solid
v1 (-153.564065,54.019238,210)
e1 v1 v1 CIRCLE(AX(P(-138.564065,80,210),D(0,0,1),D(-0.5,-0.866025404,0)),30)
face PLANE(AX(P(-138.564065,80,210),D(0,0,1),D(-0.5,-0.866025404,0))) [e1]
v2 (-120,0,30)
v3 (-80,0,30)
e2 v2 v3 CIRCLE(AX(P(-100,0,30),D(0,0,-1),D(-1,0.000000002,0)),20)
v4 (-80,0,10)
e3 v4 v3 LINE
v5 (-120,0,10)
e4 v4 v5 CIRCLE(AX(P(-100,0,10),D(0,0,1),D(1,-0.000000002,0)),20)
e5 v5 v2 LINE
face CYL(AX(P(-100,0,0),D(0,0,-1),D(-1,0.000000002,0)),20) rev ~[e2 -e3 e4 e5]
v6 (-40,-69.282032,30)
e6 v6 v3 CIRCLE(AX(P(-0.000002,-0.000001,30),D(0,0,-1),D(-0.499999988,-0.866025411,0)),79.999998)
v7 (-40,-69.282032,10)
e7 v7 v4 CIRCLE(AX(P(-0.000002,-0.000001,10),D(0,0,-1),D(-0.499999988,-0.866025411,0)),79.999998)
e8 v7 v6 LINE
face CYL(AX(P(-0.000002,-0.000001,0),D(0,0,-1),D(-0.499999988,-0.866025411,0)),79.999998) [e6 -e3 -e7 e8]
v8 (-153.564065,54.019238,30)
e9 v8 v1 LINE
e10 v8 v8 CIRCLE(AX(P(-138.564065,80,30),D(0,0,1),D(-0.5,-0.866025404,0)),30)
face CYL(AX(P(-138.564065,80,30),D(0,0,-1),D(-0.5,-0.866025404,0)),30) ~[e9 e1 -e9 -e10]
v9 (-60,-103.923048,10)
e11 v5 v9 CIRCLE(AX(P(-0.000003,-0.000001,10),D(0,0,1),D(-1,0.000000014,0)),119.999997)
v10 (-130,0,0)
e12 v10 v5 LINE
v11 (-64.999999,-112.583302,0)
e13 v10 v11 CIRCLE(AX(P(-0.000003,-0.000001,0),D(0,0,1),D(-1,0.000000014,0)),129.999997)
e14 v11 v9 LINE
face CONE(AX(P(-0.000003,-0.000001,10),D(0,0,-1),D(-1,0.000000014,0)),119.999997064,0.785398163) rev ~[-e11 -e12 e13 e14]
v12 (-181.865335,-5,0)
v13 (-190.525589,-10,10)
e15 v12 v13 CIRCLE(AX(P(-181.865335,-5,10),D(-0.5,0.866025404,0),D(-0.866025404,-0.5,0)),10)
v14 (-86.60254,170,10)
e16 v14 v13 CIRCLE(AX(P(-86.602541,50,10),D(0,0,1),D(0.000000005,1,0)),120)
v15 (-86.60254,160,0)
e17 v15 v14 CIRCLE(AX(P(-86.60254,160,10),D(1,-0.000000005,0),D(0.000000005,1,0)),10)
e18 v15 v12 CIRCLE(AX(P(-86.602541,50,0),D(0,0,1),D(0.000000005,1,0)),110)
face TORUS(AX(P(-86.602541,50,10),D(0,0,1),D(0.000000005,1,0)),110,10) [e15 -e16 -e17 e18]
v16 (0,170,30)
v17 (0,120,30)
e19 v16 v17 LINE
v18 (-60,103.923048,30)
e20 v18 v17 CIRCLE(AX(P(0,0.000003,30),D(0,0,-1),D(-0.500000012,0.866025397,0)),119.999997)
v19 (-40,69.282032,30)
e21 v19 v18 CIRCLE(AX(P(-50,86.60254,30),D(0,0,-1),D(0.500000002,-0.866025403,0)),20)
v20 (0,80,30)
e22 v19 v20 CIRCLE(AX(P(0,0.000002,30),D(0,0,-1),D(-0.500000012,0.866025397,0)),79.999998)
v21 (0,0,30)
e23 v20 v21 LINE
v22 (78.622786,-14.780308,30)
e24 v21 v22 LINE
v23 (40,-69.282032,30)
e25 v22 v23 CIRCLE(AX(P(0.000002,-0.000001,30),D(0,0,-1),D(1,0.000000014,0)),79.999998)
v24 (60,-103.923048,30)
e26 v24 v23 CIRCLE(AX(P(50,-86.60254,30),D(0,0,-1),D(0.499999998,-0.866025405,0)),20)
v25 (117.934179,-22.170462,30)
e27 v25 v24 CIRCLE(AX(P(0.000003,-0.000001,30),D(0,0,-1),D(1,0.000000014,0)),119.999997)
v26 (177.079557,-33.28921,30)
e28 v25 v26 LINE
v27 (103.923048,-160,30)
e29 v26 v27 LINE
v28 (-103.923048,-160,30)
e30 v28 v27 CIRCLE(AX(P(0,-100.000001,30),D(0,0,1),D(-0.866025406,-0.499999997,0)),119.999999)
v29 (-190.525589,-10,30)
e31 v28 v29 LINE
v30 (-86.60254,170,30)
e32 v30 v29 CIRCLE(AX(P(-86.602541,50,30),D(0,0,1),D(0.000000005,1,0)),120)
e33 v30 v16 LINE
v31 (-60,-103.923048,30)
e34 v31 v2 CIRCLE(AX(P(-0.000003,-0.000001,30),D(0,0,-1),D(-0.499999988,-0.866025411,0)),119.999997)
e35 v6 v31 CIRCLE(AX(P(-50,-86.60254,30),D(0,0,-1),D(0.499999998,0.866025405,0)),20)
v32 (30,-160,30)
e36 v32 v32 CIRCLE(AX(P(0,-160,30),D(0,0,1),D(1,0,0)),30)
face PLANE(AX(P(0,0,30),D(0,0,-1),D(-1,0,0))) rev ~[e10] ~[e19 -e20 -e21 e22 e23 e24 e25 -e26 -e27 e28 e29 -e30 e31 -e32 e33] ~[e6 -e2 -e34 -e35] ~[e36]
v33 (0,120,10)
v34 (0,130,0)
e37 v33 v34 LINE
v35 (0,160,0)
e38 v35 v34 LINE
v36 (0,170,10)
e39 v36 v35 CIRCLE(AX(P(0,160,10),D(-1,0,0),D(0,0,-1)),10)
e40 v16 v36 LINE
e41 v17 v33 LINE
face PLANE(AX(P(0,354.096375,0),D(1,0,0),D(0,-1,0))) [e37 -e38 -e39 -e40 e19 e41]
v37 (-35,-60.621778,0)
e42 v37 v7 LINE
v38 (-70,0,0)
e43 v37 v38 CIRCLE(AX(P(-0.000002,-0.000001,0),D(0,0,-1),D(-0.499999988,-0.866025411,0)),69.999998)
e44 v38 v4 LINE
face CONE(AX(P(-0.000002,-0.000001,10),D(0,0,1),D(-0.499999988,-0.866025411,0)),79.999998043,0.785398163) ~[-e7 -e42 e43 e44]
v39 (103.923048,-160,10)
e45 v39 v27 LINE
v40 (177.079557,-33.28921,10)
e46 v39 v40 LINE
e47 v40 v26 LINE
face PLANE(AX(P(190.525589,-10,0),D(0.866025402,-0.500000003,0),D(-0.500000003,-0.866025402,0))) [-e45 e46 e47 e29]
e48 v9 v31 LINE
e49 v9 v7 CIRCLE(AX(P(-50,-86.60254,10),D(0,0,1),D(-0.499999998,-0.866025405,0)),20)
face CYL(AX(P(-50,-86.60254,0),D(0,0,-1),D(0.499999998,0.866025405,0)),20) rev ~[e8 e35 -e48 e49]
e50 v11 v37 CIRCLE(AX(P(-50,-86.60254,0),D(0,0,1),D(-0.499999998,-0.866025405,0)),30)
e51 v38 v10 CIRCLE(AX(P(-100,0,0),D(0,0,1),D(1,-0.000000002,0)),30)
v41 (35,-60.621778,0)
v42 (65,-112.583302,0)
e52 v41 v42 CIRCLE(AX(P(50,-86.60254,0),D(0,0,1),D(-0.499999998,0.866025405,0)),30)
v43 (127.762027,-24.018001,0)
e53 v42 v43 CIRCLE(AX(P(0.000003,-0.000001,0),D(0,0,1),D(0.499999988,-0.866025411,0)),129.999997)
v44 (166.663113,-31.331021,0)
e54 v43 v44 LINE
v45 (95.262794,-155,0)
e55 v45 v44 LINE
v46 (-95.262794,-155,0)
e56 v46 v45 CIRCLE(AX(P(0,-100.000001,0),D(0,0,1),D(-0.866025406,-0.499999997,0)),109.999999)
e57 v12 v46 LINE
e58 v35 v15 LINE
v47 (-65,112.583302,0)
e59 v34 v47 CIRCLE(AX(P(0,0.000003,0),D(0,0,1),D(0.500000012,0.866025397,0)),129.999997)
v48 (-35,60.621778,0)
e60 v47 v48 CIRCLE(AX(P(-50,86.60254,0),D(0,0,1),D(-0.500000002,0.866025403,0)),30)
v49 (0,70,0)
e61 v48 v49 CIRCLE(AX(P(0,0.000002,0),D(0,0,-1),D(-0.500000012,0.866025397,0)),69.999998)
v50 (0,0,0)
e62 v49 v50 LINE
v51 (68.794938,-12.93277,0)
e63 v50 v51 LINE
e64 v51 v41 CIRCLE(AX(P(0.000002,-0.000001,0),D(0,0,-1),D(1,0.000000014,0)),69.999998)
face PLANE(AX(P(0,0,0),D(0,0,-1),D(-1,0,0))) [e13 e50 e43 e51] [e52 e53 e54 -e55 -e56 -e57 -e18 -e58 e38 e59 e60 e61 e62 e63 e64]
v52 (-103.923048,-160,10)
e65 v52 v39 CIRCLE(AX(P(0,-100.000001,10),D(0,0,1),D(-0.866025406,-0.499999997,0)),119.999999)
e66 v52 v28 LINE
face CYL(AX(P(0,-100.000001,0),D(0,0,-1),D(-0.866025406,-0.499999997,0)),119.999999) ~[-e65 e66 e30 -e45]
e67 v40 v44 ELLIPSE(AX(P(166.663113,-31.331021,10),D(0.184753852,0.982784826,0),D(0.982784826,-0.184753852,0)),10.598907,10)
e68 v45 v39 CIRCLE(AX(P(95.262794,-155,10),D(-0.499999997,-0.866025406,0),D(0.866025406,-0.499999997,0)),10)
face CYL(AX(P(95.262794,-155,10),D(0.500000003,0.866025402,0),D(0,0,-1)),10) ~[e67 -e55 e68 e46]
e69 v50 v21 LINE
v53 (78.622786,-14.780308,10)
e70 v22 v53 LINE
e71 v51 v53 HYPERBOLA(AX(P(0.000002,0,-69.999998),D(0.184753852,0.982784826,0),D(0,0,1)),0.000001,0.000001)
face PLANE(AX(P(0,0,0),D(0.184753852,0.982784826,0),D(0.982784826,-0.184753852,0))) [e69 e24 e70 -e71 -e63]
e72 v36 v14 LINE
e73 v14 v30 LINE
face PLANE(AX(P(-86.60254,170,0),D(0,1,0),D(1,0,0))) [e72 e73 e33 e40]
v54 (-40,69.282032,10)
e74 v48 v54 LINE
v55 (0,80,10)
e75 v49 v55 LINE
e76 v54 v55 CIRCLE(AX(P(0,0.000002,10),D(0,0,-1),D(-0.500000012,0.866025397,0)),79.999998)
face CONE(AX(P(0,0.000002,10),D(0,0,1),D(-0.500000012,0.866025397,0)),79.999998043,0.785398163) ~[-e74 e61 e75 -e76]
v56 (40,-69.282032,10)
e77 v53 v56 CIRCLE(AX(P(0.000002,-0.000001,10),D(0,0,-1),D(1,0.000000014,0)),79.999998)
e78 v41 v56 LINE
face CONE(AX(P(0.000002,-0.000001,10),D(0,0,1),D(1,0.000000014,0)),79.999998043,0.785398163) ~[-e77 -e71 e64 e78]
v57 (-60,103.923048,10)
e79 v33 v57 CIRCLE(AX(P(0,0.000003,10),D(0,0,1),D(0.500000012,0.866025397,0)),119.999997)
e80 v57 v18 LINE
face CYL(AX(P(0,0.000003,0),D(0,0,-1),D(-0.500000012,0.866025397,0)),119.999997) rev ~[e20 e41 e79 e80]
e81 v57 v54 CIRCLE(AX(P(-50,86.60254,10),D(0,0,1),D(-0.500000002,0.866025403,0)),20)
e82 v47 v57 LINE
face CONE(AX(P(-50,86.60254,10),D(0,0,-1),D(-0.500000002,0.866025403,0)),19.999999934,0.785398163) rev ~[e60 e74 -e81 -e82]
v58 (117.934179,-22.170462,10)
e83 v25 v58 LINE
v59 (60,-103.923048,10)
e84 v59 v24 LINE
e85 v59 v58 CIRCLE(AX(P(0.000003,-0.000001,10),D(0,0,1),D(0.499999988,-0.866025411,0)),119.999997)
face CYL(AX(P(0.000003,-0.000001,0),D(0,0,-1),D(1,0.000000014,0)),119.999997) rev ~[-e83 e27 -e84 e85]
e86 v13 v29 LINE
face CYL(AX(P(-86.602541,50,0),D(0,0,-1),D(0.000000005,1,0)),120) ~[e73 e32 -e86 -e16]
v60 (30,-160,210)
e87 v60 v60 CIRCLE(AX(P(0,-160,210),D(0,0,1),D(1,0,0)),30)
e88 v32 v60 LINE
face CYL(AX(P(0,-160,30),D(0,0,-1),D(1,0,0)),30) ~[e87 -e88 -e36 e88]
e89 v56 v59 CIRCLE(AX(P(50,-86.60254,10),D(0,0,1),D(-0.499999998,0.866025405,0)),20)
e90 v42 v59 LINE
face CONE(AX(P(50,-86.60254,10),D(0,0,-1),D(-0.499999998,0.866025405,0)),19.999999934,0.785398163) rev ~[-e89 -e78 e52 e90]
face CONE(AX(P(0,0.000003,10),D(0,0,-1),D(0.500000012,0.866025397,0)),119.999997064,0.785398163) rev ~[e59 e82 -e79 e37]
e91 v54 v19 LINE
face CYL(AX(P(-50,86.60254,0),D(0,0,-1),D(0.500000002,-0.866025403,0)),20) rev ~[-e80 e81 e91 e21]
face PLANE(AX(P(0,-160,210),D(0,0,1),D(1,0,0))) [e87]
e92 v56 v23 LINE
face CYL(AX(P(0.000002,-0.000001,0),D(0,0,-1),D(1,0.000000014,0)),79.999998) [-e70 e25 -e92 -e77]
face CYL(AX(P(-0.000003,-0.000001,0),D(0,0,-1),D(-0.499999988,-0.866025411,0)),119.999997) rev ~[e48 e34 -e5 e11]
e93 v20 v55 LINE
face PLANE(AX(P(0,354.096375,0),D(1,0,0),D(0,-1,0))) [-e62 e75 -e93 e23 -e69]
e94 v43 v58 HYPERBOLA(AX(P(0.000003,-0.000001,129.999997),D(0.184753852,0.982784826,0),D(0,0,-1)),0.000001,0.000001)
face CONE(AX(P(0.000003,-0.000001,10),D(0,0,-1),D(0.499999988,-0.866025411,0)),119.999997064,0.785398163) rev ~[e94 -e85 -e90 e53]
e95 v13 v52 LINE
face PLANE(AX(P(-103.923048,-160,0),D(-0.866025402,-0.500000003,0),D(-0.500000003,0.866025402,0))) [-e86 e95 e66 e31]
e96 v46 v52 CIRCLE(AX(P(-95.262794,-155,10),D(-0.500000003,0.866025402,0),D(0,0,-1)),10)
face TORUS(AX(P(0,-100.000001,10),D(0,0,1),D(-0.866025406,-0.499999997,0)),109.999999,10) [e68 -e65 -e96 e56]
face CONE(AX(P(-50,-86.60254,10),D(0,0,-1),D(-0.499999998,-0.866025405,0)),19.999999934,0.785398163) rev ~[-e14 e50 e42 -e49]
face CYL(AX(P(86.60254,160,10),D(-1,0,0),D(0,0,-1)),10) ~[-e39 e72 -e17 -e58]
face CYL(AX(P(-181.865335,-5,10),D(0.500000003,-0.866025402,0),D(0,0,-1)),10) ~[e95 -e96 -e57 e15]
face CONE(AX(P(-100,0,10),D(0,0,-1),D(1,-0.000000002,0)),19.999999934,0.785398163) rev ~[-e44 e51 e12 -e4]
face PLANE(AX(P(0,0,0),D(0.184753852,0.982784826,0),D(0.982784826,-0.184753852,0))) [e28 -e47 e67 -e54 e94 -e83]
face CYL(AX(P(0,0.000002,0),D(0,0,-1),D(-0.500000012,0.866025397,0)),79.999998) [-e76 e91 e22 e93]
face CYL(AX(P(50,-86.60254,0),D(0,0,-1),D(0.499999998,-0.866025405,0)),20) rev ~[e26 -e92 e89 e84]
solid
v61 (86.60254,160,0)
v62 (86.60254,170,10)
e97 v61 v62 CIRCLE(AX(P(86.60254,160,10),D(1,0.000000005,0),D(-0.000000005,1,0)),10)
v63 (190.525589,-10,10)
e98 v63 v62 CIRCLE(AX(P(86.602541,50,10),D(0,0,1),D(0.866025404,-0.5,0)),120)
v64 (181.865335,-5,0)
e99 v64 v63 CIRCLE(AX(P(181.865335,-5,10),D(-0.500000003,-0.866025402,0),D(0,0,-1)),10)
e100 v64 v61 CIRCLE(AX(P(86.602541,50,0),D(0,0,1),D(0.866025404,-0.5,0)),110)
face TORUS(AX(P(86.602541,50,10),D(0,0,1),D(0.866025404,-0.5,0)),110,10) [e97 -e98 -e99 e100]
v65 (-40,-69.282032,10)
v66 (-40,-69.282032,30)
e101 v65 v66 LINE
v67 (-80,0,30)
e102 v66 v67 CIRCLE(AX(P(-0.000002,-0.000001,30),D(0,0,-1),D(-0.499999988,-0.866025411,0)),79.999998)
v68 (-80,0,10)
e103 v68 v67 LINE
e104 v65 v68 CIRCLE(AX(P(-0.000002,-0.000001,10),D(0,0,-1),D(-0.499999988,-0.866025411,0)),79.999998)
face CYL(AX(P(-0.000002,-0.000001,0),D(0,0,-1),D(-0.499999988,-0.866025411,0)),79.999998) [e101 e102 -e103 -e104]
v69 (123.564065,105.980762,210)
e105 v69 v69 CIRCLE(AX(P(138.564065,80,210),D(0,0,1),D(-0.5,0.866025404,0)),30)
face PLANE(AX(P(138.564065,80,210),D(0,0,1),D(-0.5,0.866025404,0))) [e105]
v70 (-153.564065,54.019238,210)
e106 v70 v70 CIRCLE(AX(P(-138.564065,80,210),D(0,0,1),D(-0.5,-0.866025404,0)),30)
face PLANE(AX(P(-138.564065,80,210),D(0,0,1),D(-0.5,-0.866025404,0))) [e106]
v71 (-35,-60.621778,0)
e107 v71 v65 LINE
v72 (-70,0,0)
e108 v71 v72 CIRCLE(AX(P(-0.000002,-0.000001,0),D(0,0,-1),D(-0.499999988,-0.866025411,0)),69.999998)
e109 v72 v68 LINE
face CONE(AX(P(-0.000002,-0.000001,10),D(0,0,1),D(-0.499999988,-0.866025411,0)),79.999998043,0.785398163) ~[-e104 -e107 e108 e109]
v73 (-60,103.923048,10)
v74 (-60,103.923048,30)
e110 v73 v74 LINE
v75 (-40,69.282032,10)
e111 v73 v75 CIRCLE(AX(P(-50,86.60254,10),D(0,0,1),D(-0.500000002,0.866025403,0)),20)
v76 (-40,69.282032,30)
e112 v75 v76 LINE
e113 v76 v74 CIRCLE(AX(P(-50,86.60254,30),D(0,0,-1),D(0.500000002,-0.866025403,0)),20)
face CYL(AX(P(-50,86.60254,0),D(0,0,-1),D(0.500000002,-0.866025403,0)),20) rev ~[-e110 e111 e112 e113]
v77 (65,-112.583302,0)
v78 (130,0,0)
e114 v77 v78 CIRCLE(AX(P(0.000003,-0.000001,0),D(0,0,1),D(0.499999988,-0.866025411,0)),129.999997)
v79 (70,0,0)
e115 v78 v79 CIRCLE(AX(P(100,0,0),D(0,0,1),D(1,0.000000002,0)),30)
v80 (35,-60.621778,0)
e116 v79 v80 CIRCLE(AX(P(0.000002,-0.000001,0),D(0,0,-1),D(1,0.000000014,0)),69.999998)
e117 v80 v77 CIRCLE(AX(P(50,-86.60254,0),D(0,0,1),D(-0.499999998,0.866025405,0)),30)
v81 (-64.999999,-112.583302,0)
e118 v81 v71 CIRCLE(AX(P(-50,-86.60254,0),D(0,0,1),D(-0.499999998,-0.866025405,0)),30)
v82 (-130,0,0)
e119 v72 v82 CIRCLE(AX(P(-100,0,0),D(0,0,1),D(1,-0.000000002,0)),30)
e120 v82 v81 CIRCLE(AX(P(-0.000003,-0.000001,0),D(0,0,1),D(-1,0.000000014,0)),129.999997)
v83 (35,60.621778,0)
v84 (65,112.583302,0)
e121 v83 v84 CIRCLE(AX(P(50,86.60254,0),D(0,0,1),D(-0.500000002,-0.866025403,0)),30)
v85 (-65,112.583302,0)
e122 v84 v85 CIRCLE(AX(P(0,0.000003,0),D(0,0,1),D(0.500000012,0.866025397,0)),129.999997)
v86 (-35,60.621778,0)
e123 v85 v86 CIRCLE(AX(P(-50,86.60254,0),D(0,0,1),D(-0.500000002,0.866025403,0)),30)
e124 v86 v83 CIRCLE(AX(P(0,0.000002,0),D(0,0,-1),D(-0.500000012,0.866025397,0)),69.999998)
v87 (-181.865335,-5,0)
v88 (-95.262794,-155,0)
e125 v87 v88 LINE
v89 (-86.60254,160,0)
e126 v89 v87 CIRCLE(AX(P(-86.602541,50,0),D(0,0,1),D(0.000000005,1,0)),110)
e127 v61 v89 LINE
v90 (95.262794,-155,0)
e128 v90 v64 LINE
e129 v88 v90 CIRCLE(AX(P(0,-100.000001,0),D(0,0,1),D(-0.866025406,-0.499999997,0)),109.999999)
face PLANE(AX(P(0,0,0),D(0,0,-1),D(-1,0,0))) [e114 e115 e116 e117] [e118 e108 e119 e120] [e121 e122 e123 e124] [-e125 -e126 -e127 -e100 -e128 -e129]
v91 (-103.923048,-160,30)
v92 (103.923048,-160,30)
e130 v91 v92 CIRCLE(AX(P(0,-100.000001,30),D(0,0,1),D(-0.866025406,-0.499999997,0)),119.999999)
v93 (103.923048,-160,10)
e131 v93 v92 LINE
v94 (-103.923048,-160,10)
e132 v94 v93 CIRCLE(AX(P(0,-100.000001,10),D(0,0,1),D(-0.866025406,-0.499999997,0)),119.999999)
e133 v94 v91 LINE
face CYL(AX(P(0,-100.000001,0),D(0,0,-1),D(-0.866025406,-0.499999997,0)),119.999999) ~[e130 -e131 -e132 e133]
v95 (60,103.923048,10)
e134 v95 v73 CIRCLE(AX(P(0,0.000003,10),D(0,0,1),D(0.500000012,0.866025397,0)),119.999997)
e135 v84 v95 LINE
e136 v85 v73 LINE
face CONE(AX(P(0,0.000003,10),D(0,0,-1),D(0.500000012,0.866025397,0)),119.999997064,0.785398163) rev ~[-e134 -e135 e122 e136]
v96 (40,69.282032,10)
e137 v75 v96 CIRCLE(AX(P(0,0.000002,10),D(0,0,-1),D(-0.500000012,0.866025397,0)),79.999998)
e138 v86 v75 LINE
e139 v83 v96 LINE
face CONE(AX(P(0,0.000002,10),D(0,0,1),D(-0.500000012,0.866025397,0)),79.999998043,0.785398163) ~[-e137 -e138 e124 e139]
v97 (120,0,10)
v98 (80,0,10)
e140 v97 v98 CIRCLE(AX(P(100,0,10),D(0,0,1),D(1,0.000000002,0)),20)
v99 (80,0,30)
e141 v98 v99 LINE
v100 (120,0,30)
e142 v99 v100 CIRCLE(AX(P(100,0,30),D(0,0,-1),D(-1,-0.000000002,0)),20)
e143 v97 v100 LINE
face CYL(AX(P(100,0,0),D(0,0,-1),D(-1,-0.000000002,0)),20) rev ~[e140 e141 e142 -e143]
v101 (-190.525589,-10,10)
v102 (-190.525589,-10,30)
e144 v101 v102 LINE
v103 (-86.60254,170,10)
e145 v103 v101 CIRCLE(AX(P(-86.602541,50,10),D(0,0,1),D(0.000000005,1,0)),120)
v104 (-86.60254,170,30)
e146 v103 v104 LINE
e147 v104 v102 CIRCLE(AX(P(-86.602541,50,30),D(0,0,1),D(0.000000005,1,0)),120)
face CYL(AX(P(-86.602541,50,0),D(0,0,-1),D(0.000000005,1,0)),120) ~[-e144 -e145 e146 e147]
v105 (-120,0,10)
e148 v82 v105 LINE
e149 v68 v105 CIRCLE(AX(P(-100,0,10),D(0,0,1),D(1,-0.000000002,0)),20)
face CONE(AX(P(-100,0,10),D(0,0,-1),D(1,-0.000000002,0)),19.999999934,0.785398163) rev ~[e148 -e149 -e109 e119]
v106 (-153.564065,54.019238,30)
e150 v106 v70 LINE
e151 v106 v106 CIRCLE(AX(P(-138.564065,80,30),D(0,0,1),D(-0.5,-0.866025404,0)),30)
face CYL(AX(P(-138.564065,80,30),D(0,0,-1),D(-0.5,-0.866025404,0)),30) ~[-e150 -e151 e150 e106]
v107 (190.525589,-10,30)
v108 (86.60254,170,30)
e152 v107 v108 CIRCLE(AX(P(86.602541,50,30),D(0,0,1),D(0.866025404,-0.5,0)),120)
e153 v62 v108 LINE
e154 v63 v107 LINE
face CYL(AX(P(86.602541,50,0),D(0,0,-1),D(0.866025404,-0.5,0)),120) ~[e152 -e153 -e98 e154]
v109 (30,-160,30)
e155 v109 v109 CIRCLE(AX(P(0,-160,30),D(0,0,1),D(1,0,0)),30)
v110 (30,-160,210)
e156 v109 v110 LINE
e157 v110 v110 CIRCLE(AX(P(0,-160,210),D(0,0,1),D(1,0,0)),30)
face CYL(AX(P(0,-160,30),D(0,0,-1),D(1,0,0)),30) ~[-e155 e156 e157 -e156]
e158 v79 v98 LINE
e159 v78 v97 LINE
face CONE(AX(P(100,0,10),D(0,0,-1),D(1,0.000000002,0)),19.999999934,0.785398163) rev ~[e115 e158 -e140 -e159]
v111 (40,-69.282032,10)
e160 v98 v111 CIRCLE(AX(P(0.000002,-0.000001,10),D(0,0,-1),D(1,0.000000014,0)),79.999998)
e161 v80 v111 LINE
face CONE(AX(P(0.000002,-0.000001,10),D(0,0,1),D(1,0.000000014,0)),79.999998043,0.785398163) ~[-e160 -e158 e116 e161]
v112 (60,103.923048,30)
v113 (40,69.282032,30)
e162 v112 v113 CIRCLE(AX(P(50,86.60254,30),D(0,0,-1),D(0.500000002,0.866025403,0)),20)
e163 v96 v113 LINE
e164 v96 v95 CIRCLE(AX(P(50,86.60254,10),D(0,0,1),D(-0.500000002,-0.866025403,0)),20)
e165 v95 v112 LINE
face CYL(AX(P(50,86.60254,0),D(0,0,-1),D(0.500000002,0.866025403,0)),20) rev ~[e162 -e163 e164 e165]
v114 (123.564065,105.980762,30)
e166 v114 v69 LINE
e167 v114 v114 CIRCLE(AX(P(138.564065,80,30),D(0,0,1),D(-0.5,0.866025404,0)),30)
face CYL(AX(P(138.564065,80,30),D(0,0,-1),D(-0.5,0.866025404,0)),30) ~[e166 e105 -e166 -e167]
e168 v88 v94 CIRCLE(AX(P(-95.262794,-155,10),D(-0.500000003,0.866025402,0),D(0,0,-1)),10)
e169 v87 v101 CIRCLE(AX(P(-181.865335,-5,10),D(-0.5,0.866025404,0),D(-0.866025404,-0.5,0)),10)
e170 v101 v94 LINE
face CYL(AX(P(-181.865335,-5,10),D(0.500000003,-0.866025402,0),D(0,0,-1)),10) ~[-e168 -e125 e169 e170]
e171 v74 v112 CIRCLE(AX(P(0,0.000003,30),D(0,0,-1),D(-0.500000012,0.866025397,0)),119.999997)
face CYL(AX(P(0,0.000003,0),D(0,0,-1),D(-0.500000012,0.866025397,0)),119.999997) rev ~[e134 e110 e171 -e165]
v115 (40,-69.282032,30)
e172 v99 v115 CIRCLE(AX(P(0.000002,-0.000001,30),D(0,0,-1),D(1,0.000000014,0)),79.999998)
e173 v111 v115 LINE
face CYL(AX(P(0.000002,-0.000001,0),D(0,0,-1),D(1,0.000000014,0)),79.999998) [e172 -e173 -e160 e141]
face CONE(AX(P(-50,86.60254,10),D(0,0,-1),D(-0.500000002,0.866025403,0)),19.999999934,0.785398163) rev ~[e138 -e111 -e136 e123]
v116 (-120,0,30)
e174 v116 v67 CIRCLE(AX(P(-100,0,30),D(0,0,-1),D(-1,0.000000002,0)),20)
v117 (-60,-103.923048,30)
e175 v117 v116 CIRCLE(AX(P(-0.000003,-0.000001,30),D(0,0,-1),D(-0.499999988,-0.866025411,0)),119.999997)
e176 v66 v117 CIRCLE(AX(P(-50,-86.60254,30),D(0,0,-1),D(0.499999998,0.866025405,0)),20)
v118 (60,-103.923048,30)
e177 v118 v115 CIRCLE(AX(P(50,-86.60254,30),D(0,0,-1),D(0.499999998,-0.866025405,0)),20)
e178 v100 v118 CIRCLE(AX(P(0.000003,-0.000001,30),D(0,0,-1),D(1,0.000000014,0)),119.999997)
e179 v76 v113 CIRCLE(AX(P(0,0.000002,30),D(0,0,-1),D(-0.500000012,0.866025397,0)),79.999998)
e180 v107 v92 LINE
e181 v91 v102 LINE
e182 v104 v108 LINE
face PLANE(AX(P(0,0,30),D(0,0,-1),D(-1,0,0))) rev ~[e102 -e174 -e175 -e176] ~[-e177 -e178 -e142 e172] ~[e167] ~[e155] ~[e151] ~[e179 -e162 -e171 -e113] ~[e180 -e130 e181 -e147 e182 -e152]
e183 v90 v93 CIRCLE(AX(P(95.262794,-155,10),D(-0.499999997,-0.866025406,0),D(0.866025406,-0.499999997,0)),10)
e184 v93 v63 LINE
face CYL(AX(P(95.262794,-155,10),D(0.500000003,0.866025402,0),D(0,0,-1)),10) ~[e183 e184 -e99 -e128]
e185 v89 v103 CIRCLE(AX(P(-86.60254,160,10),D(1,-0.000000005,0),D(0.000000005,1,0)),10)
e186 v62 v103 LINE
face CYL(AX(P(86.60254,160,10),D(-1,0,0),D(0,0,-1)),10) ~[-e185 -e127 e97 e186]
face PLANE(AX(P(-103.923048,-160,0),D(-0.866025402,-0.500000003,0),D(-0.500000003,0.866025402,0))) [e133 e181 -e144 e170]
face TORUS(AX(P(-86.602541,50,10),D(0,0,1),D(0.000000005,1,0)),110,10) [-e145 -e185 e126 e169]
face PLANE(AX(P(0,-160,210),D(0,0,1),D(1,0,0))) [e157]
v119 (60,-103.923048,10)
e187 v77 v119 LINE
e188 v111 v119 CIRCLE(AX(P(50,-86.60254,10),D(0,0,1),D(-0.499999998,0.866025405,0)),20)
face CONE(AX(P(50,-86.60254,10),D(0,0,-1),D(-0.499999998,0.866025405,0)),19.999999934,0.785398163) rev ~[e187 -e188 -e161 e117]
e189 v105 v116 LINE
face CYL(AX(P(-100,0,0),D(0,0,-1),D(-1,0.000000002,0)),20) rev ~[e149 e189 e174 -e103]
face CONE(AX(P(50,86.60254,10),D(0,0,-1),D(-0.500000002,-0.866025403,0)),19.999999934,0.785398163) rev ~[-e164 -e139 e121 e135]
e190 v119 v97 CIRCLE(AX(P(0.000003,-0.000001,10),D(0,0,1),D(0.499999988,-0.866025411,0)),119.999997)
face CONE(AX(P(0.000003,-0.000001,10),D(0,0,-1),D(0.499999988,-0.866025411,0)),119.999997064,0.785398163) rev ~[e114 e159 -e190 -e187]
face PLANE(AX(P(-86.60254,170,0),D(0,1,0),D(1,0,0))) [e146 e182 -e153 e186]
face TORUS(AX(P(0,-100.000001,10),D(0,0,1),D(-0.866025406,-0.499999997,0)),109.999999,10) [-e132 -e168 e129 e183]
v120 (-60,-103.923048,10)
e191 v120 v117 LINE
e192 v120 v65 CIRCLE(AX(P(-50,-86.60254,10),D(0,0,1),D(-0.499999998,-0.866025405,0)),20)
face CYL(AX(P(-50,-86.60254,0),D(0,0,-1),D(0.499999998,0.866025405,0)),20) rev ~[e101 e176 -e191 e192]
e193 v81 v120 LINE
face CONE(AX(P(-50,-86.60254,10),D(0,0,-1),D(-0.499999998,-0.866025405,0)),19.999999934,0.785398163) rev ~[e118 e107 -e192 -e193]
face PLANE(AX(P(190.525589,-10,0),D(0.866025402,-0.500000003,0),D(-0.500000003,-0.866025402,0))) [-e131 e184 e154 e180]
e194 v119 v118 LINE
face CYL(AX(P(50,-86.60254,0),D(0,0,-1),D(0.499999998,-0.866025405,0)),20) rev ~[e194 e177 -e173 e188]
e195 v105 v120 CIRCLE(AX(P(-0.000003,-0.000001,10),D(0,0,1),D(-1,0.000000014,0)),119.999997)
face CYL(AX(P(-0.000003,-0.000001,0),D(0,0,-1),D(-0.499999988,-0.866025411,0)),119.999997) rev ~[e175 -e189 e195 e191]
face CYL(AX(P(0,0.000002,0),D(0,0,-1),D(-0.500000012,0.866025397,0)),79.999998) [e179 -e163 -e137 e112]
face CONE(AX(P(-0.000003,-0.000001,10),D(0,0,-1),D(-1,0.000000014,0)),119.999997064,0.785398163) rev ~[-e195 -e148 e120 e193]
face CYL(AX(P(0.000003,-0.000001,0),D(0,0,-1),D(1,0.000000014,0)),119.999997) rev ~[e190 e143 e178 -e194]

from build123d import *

# Parameters (mm, degrees)
PAD_DEPTH             = 30
POCKET_DEPTH          = 1167.961349
POLARPATTERN_COUNT    = 3
FILLET_R              = 10
CHAMFER_SIZE          = 10
SKETCH002_R           = 30
PAD001_DEPTH          = 180
POLARPATTERN001_COUNT = 3
POCKET001_DEPTH       = 210.001
PAD003_DEPTH          = 30
POCKET002_DEPTH       = 1167.961349
POLARPATTERN002_COUNT = 3
FILLET001_R           = 10
CHAMFER001_SIZE       = 10
SKETCH006_R           = 30
PAD002_DEPTH          = 180
POLARPATTERN003_COUNT = 3


with BuildPart() as body:
    # Sketch → Pad (new body)
    with BuildSketch(Plane.XY):
        with BuildLine():
            Line((190.525589, -10), (103.923048, -160))
            ThreePointArc((-103.923048, -160), (0, -220), (103.923048, -160))
            Line((-103.923048, -160), (-190.525589, -10))
            ThreePointArc((-86.60254, 170), (-190.525589, 110), (-190.525589, -10))
            Line((-86.60254, 170), (86.60254, 170))
            ThreePointArc((190.525589, -10), (190.525589, 110), (86.60254, 170))
        make_face()
    extrude(amount=PAD_DEPTH)

    # Sketch001 (on Face7 of Pad) → Pocket (cut, through all)
    with BuildSketch(Plane(origin=(0, 0, 0), x_dir=(1, 0, 0), z_dir=(0, 0, -1))):
        with BuildLine():
            ThreePointArc((-40, -69.282032), (0, -80), (40, -69.282032))
            ThreePointArc((60, -103.923048), (67.320508, -76.60254), (40, -69.282032))
            ThreePointArc((-60, -103.923048), (0, -120), (60, -103.923048))
            ThreePointArc((-40, -69.282032), (-67.320508, -76.60254), (-60, -103.923048))
        make_face()
    pocket = extrude(amount=-POCKET_DEPTH, mode=Mode.SUBTRACT)

    # PolarPattern: Pocket ×3 about axis
    polarpattern_axis = Axis((0, 0, 0), (0, 0, -1))
    for i in range(1, POLARPATTERN_COUNT):
        add(pocket.rotate(polarpattern_axis, i * 360 / POLARPATTERN_COUNT), mode=Mode.SUBTRACT)

    # Fillet
    fillet_edges = [body.edges().sort_by_distance(p)[0] for p in [
        (-190.525589, 110, 0),
        (0, -220, 0),
        (190.525589, 110, 0),
    ]]
    fillet(fillet_edges, radius=FILLET_R)

    # Chamfer
    chamfer_edges = [body.edges().sort_by_distance(p)[0] for p in [
        (69.282032, -40, 0),
        (103.923048, -60, 0),
        (0, 80, 0),
        (0, 120, 0),
        (-69.282032, -40, 0),
        (-103.923048, -60, 0),
    ]]
    chamfer(chamfer_edges, length=CHAMFER_SIZE)

    # Sketch002 (on Face38 of Chamfer) → Pad001 (join)
    with BuildSketch(Plane.XY.offset(30)):
        with Locations((0, -160)):
            Circle(SKETCH002_R)
    pad001 = extrude(amount=PAD001_DEPTH)

    # PolarPattern001: Pad001 ×3 about axis
    polarpattern001_axis = Axis((0, 0, 30), (0, 0, 1))
    for i in range(1, POLARPATTERN001_COUNT):
        add(pad001.rotate(polarpattern001_axis, i * 360 / POLARPATTERN001_COUNT))

    # Sketch003 (on Face1 of PolarPattern001) → Pocket001 (cut, through all)
    with BuildSketch(Plane(origin=(0, 0, 0), x_dir=(1, 0, 0), z_dir=(0, 0, -1))):
        Polygon((0, 0), (382.591034, 71.92334), (0, -354.096375), align=None)
    extrude(amount=-POCKET001_DEPTH, mode=Mode.SUBTRACT)


with BuildPart() as polarpattern003:
    # Sketch005 → Pad003 (new body)
    with BuildSketch(Plane.XY):
        with BuildLine():
            Line((190.525589, -10), (103.923048, -160))
            ThreePointArc((-103.923048, -160), (0, -220), (103.923048, -160))
            Line((-103.923048, -160), (-190.525589, -10))
            ThreePointArc((-86.60254, 170), (-190.525589, 110), (-190.525589, -10))
            Line((-86.60254, 170), (86.60254, 170))
            ThreePointArc((190.525589, -10), (190.525589, 110), (86.60254, 170))
        make_face()
    extrude(amount=PAD003_DEPTH)

    # Sketch004 (on Face7 of Pad003) → Pocket002 (cut, through all)
    with BuildSketch(Plane(origin=(0, 0, 0), x_dir=(1, 0, 0), z_dir=(0, 0, -1))):
        with BuildLine():
            ThreePointArc((-40, -69.282032), (0, -80), (40, -69.282032))
            ThreePointArc((60, -103.923048), (67.320508, -76.60254), (40, -69.282032))
            ThreePointArc((-60, -103.923048), (0, -120), (60, -103.923048))
            ThreePointArc((-40, -69.282032), (-67.320508, -76.60254), (-60, -103.923048))
        make_face()
    pocket002 = extrude(amount=-POCKET002_DEPTH, mode=Mode.SUBTRACT)

    # PolarPattern002: Pocket002 ×3 about axis
    polarpattern002_axis = Axis((0, 0, 0), (0, 0, -1))
    for i in range(1, POLARPATTERN002_COUNT):
        add(pocket002.rotate(polarpattern002_axis, i * 360 / POLARPATTERN002_COUNT), mode=Mode.SUBTRACT)

    # Fillet001
    fillet001_edges = [polarpattern003.edges().sort_by_distance(p)[0] for p in [
        (-190.525589, 110, 0),
        (0, -220, 0),
        (190.525589, 110, 0),
    ]]
    fillet(fillet001_edges, radius=FILLET001_R)

    # Chamfer001
    chamfer001_edges = [polarpattern003.edges().sort_by_distance(p)[0] for p in [
        (69.282032, -40, 0),
        (103.923048, -60, 0),
        (0, 80, 0),
        (0, 120, 0),
        (-69.282032, -40, 0),
        (-103.923048, -60, 0),
    ]]
    chamfer(chamfer001_edges, length=CHAMFER001_SIZE)

    # Sketch006 (on Face38 of Chamfer001) → Pad002 (new body)
    with BuildSketch(Plane.XY.offset(30)):
        with Locations((0, -160)):
            Circle(SKETCH006_R)
    pad002 = extrude(amount=PAD002_DEPTH)

    # PolarPattern003: Pad002 ×3 about axis
    polarpattern003_axis = Axis((0, 0, 30), (0, 0, 1))
    for i in range(1, POLARPATTERN003_COUNT):
        add(pad002.rotate(polarpattern003_axis, i * 360 / POLARPATTERN003_COUNT))


solid = Compound([body.part, polarpattern003.part])
